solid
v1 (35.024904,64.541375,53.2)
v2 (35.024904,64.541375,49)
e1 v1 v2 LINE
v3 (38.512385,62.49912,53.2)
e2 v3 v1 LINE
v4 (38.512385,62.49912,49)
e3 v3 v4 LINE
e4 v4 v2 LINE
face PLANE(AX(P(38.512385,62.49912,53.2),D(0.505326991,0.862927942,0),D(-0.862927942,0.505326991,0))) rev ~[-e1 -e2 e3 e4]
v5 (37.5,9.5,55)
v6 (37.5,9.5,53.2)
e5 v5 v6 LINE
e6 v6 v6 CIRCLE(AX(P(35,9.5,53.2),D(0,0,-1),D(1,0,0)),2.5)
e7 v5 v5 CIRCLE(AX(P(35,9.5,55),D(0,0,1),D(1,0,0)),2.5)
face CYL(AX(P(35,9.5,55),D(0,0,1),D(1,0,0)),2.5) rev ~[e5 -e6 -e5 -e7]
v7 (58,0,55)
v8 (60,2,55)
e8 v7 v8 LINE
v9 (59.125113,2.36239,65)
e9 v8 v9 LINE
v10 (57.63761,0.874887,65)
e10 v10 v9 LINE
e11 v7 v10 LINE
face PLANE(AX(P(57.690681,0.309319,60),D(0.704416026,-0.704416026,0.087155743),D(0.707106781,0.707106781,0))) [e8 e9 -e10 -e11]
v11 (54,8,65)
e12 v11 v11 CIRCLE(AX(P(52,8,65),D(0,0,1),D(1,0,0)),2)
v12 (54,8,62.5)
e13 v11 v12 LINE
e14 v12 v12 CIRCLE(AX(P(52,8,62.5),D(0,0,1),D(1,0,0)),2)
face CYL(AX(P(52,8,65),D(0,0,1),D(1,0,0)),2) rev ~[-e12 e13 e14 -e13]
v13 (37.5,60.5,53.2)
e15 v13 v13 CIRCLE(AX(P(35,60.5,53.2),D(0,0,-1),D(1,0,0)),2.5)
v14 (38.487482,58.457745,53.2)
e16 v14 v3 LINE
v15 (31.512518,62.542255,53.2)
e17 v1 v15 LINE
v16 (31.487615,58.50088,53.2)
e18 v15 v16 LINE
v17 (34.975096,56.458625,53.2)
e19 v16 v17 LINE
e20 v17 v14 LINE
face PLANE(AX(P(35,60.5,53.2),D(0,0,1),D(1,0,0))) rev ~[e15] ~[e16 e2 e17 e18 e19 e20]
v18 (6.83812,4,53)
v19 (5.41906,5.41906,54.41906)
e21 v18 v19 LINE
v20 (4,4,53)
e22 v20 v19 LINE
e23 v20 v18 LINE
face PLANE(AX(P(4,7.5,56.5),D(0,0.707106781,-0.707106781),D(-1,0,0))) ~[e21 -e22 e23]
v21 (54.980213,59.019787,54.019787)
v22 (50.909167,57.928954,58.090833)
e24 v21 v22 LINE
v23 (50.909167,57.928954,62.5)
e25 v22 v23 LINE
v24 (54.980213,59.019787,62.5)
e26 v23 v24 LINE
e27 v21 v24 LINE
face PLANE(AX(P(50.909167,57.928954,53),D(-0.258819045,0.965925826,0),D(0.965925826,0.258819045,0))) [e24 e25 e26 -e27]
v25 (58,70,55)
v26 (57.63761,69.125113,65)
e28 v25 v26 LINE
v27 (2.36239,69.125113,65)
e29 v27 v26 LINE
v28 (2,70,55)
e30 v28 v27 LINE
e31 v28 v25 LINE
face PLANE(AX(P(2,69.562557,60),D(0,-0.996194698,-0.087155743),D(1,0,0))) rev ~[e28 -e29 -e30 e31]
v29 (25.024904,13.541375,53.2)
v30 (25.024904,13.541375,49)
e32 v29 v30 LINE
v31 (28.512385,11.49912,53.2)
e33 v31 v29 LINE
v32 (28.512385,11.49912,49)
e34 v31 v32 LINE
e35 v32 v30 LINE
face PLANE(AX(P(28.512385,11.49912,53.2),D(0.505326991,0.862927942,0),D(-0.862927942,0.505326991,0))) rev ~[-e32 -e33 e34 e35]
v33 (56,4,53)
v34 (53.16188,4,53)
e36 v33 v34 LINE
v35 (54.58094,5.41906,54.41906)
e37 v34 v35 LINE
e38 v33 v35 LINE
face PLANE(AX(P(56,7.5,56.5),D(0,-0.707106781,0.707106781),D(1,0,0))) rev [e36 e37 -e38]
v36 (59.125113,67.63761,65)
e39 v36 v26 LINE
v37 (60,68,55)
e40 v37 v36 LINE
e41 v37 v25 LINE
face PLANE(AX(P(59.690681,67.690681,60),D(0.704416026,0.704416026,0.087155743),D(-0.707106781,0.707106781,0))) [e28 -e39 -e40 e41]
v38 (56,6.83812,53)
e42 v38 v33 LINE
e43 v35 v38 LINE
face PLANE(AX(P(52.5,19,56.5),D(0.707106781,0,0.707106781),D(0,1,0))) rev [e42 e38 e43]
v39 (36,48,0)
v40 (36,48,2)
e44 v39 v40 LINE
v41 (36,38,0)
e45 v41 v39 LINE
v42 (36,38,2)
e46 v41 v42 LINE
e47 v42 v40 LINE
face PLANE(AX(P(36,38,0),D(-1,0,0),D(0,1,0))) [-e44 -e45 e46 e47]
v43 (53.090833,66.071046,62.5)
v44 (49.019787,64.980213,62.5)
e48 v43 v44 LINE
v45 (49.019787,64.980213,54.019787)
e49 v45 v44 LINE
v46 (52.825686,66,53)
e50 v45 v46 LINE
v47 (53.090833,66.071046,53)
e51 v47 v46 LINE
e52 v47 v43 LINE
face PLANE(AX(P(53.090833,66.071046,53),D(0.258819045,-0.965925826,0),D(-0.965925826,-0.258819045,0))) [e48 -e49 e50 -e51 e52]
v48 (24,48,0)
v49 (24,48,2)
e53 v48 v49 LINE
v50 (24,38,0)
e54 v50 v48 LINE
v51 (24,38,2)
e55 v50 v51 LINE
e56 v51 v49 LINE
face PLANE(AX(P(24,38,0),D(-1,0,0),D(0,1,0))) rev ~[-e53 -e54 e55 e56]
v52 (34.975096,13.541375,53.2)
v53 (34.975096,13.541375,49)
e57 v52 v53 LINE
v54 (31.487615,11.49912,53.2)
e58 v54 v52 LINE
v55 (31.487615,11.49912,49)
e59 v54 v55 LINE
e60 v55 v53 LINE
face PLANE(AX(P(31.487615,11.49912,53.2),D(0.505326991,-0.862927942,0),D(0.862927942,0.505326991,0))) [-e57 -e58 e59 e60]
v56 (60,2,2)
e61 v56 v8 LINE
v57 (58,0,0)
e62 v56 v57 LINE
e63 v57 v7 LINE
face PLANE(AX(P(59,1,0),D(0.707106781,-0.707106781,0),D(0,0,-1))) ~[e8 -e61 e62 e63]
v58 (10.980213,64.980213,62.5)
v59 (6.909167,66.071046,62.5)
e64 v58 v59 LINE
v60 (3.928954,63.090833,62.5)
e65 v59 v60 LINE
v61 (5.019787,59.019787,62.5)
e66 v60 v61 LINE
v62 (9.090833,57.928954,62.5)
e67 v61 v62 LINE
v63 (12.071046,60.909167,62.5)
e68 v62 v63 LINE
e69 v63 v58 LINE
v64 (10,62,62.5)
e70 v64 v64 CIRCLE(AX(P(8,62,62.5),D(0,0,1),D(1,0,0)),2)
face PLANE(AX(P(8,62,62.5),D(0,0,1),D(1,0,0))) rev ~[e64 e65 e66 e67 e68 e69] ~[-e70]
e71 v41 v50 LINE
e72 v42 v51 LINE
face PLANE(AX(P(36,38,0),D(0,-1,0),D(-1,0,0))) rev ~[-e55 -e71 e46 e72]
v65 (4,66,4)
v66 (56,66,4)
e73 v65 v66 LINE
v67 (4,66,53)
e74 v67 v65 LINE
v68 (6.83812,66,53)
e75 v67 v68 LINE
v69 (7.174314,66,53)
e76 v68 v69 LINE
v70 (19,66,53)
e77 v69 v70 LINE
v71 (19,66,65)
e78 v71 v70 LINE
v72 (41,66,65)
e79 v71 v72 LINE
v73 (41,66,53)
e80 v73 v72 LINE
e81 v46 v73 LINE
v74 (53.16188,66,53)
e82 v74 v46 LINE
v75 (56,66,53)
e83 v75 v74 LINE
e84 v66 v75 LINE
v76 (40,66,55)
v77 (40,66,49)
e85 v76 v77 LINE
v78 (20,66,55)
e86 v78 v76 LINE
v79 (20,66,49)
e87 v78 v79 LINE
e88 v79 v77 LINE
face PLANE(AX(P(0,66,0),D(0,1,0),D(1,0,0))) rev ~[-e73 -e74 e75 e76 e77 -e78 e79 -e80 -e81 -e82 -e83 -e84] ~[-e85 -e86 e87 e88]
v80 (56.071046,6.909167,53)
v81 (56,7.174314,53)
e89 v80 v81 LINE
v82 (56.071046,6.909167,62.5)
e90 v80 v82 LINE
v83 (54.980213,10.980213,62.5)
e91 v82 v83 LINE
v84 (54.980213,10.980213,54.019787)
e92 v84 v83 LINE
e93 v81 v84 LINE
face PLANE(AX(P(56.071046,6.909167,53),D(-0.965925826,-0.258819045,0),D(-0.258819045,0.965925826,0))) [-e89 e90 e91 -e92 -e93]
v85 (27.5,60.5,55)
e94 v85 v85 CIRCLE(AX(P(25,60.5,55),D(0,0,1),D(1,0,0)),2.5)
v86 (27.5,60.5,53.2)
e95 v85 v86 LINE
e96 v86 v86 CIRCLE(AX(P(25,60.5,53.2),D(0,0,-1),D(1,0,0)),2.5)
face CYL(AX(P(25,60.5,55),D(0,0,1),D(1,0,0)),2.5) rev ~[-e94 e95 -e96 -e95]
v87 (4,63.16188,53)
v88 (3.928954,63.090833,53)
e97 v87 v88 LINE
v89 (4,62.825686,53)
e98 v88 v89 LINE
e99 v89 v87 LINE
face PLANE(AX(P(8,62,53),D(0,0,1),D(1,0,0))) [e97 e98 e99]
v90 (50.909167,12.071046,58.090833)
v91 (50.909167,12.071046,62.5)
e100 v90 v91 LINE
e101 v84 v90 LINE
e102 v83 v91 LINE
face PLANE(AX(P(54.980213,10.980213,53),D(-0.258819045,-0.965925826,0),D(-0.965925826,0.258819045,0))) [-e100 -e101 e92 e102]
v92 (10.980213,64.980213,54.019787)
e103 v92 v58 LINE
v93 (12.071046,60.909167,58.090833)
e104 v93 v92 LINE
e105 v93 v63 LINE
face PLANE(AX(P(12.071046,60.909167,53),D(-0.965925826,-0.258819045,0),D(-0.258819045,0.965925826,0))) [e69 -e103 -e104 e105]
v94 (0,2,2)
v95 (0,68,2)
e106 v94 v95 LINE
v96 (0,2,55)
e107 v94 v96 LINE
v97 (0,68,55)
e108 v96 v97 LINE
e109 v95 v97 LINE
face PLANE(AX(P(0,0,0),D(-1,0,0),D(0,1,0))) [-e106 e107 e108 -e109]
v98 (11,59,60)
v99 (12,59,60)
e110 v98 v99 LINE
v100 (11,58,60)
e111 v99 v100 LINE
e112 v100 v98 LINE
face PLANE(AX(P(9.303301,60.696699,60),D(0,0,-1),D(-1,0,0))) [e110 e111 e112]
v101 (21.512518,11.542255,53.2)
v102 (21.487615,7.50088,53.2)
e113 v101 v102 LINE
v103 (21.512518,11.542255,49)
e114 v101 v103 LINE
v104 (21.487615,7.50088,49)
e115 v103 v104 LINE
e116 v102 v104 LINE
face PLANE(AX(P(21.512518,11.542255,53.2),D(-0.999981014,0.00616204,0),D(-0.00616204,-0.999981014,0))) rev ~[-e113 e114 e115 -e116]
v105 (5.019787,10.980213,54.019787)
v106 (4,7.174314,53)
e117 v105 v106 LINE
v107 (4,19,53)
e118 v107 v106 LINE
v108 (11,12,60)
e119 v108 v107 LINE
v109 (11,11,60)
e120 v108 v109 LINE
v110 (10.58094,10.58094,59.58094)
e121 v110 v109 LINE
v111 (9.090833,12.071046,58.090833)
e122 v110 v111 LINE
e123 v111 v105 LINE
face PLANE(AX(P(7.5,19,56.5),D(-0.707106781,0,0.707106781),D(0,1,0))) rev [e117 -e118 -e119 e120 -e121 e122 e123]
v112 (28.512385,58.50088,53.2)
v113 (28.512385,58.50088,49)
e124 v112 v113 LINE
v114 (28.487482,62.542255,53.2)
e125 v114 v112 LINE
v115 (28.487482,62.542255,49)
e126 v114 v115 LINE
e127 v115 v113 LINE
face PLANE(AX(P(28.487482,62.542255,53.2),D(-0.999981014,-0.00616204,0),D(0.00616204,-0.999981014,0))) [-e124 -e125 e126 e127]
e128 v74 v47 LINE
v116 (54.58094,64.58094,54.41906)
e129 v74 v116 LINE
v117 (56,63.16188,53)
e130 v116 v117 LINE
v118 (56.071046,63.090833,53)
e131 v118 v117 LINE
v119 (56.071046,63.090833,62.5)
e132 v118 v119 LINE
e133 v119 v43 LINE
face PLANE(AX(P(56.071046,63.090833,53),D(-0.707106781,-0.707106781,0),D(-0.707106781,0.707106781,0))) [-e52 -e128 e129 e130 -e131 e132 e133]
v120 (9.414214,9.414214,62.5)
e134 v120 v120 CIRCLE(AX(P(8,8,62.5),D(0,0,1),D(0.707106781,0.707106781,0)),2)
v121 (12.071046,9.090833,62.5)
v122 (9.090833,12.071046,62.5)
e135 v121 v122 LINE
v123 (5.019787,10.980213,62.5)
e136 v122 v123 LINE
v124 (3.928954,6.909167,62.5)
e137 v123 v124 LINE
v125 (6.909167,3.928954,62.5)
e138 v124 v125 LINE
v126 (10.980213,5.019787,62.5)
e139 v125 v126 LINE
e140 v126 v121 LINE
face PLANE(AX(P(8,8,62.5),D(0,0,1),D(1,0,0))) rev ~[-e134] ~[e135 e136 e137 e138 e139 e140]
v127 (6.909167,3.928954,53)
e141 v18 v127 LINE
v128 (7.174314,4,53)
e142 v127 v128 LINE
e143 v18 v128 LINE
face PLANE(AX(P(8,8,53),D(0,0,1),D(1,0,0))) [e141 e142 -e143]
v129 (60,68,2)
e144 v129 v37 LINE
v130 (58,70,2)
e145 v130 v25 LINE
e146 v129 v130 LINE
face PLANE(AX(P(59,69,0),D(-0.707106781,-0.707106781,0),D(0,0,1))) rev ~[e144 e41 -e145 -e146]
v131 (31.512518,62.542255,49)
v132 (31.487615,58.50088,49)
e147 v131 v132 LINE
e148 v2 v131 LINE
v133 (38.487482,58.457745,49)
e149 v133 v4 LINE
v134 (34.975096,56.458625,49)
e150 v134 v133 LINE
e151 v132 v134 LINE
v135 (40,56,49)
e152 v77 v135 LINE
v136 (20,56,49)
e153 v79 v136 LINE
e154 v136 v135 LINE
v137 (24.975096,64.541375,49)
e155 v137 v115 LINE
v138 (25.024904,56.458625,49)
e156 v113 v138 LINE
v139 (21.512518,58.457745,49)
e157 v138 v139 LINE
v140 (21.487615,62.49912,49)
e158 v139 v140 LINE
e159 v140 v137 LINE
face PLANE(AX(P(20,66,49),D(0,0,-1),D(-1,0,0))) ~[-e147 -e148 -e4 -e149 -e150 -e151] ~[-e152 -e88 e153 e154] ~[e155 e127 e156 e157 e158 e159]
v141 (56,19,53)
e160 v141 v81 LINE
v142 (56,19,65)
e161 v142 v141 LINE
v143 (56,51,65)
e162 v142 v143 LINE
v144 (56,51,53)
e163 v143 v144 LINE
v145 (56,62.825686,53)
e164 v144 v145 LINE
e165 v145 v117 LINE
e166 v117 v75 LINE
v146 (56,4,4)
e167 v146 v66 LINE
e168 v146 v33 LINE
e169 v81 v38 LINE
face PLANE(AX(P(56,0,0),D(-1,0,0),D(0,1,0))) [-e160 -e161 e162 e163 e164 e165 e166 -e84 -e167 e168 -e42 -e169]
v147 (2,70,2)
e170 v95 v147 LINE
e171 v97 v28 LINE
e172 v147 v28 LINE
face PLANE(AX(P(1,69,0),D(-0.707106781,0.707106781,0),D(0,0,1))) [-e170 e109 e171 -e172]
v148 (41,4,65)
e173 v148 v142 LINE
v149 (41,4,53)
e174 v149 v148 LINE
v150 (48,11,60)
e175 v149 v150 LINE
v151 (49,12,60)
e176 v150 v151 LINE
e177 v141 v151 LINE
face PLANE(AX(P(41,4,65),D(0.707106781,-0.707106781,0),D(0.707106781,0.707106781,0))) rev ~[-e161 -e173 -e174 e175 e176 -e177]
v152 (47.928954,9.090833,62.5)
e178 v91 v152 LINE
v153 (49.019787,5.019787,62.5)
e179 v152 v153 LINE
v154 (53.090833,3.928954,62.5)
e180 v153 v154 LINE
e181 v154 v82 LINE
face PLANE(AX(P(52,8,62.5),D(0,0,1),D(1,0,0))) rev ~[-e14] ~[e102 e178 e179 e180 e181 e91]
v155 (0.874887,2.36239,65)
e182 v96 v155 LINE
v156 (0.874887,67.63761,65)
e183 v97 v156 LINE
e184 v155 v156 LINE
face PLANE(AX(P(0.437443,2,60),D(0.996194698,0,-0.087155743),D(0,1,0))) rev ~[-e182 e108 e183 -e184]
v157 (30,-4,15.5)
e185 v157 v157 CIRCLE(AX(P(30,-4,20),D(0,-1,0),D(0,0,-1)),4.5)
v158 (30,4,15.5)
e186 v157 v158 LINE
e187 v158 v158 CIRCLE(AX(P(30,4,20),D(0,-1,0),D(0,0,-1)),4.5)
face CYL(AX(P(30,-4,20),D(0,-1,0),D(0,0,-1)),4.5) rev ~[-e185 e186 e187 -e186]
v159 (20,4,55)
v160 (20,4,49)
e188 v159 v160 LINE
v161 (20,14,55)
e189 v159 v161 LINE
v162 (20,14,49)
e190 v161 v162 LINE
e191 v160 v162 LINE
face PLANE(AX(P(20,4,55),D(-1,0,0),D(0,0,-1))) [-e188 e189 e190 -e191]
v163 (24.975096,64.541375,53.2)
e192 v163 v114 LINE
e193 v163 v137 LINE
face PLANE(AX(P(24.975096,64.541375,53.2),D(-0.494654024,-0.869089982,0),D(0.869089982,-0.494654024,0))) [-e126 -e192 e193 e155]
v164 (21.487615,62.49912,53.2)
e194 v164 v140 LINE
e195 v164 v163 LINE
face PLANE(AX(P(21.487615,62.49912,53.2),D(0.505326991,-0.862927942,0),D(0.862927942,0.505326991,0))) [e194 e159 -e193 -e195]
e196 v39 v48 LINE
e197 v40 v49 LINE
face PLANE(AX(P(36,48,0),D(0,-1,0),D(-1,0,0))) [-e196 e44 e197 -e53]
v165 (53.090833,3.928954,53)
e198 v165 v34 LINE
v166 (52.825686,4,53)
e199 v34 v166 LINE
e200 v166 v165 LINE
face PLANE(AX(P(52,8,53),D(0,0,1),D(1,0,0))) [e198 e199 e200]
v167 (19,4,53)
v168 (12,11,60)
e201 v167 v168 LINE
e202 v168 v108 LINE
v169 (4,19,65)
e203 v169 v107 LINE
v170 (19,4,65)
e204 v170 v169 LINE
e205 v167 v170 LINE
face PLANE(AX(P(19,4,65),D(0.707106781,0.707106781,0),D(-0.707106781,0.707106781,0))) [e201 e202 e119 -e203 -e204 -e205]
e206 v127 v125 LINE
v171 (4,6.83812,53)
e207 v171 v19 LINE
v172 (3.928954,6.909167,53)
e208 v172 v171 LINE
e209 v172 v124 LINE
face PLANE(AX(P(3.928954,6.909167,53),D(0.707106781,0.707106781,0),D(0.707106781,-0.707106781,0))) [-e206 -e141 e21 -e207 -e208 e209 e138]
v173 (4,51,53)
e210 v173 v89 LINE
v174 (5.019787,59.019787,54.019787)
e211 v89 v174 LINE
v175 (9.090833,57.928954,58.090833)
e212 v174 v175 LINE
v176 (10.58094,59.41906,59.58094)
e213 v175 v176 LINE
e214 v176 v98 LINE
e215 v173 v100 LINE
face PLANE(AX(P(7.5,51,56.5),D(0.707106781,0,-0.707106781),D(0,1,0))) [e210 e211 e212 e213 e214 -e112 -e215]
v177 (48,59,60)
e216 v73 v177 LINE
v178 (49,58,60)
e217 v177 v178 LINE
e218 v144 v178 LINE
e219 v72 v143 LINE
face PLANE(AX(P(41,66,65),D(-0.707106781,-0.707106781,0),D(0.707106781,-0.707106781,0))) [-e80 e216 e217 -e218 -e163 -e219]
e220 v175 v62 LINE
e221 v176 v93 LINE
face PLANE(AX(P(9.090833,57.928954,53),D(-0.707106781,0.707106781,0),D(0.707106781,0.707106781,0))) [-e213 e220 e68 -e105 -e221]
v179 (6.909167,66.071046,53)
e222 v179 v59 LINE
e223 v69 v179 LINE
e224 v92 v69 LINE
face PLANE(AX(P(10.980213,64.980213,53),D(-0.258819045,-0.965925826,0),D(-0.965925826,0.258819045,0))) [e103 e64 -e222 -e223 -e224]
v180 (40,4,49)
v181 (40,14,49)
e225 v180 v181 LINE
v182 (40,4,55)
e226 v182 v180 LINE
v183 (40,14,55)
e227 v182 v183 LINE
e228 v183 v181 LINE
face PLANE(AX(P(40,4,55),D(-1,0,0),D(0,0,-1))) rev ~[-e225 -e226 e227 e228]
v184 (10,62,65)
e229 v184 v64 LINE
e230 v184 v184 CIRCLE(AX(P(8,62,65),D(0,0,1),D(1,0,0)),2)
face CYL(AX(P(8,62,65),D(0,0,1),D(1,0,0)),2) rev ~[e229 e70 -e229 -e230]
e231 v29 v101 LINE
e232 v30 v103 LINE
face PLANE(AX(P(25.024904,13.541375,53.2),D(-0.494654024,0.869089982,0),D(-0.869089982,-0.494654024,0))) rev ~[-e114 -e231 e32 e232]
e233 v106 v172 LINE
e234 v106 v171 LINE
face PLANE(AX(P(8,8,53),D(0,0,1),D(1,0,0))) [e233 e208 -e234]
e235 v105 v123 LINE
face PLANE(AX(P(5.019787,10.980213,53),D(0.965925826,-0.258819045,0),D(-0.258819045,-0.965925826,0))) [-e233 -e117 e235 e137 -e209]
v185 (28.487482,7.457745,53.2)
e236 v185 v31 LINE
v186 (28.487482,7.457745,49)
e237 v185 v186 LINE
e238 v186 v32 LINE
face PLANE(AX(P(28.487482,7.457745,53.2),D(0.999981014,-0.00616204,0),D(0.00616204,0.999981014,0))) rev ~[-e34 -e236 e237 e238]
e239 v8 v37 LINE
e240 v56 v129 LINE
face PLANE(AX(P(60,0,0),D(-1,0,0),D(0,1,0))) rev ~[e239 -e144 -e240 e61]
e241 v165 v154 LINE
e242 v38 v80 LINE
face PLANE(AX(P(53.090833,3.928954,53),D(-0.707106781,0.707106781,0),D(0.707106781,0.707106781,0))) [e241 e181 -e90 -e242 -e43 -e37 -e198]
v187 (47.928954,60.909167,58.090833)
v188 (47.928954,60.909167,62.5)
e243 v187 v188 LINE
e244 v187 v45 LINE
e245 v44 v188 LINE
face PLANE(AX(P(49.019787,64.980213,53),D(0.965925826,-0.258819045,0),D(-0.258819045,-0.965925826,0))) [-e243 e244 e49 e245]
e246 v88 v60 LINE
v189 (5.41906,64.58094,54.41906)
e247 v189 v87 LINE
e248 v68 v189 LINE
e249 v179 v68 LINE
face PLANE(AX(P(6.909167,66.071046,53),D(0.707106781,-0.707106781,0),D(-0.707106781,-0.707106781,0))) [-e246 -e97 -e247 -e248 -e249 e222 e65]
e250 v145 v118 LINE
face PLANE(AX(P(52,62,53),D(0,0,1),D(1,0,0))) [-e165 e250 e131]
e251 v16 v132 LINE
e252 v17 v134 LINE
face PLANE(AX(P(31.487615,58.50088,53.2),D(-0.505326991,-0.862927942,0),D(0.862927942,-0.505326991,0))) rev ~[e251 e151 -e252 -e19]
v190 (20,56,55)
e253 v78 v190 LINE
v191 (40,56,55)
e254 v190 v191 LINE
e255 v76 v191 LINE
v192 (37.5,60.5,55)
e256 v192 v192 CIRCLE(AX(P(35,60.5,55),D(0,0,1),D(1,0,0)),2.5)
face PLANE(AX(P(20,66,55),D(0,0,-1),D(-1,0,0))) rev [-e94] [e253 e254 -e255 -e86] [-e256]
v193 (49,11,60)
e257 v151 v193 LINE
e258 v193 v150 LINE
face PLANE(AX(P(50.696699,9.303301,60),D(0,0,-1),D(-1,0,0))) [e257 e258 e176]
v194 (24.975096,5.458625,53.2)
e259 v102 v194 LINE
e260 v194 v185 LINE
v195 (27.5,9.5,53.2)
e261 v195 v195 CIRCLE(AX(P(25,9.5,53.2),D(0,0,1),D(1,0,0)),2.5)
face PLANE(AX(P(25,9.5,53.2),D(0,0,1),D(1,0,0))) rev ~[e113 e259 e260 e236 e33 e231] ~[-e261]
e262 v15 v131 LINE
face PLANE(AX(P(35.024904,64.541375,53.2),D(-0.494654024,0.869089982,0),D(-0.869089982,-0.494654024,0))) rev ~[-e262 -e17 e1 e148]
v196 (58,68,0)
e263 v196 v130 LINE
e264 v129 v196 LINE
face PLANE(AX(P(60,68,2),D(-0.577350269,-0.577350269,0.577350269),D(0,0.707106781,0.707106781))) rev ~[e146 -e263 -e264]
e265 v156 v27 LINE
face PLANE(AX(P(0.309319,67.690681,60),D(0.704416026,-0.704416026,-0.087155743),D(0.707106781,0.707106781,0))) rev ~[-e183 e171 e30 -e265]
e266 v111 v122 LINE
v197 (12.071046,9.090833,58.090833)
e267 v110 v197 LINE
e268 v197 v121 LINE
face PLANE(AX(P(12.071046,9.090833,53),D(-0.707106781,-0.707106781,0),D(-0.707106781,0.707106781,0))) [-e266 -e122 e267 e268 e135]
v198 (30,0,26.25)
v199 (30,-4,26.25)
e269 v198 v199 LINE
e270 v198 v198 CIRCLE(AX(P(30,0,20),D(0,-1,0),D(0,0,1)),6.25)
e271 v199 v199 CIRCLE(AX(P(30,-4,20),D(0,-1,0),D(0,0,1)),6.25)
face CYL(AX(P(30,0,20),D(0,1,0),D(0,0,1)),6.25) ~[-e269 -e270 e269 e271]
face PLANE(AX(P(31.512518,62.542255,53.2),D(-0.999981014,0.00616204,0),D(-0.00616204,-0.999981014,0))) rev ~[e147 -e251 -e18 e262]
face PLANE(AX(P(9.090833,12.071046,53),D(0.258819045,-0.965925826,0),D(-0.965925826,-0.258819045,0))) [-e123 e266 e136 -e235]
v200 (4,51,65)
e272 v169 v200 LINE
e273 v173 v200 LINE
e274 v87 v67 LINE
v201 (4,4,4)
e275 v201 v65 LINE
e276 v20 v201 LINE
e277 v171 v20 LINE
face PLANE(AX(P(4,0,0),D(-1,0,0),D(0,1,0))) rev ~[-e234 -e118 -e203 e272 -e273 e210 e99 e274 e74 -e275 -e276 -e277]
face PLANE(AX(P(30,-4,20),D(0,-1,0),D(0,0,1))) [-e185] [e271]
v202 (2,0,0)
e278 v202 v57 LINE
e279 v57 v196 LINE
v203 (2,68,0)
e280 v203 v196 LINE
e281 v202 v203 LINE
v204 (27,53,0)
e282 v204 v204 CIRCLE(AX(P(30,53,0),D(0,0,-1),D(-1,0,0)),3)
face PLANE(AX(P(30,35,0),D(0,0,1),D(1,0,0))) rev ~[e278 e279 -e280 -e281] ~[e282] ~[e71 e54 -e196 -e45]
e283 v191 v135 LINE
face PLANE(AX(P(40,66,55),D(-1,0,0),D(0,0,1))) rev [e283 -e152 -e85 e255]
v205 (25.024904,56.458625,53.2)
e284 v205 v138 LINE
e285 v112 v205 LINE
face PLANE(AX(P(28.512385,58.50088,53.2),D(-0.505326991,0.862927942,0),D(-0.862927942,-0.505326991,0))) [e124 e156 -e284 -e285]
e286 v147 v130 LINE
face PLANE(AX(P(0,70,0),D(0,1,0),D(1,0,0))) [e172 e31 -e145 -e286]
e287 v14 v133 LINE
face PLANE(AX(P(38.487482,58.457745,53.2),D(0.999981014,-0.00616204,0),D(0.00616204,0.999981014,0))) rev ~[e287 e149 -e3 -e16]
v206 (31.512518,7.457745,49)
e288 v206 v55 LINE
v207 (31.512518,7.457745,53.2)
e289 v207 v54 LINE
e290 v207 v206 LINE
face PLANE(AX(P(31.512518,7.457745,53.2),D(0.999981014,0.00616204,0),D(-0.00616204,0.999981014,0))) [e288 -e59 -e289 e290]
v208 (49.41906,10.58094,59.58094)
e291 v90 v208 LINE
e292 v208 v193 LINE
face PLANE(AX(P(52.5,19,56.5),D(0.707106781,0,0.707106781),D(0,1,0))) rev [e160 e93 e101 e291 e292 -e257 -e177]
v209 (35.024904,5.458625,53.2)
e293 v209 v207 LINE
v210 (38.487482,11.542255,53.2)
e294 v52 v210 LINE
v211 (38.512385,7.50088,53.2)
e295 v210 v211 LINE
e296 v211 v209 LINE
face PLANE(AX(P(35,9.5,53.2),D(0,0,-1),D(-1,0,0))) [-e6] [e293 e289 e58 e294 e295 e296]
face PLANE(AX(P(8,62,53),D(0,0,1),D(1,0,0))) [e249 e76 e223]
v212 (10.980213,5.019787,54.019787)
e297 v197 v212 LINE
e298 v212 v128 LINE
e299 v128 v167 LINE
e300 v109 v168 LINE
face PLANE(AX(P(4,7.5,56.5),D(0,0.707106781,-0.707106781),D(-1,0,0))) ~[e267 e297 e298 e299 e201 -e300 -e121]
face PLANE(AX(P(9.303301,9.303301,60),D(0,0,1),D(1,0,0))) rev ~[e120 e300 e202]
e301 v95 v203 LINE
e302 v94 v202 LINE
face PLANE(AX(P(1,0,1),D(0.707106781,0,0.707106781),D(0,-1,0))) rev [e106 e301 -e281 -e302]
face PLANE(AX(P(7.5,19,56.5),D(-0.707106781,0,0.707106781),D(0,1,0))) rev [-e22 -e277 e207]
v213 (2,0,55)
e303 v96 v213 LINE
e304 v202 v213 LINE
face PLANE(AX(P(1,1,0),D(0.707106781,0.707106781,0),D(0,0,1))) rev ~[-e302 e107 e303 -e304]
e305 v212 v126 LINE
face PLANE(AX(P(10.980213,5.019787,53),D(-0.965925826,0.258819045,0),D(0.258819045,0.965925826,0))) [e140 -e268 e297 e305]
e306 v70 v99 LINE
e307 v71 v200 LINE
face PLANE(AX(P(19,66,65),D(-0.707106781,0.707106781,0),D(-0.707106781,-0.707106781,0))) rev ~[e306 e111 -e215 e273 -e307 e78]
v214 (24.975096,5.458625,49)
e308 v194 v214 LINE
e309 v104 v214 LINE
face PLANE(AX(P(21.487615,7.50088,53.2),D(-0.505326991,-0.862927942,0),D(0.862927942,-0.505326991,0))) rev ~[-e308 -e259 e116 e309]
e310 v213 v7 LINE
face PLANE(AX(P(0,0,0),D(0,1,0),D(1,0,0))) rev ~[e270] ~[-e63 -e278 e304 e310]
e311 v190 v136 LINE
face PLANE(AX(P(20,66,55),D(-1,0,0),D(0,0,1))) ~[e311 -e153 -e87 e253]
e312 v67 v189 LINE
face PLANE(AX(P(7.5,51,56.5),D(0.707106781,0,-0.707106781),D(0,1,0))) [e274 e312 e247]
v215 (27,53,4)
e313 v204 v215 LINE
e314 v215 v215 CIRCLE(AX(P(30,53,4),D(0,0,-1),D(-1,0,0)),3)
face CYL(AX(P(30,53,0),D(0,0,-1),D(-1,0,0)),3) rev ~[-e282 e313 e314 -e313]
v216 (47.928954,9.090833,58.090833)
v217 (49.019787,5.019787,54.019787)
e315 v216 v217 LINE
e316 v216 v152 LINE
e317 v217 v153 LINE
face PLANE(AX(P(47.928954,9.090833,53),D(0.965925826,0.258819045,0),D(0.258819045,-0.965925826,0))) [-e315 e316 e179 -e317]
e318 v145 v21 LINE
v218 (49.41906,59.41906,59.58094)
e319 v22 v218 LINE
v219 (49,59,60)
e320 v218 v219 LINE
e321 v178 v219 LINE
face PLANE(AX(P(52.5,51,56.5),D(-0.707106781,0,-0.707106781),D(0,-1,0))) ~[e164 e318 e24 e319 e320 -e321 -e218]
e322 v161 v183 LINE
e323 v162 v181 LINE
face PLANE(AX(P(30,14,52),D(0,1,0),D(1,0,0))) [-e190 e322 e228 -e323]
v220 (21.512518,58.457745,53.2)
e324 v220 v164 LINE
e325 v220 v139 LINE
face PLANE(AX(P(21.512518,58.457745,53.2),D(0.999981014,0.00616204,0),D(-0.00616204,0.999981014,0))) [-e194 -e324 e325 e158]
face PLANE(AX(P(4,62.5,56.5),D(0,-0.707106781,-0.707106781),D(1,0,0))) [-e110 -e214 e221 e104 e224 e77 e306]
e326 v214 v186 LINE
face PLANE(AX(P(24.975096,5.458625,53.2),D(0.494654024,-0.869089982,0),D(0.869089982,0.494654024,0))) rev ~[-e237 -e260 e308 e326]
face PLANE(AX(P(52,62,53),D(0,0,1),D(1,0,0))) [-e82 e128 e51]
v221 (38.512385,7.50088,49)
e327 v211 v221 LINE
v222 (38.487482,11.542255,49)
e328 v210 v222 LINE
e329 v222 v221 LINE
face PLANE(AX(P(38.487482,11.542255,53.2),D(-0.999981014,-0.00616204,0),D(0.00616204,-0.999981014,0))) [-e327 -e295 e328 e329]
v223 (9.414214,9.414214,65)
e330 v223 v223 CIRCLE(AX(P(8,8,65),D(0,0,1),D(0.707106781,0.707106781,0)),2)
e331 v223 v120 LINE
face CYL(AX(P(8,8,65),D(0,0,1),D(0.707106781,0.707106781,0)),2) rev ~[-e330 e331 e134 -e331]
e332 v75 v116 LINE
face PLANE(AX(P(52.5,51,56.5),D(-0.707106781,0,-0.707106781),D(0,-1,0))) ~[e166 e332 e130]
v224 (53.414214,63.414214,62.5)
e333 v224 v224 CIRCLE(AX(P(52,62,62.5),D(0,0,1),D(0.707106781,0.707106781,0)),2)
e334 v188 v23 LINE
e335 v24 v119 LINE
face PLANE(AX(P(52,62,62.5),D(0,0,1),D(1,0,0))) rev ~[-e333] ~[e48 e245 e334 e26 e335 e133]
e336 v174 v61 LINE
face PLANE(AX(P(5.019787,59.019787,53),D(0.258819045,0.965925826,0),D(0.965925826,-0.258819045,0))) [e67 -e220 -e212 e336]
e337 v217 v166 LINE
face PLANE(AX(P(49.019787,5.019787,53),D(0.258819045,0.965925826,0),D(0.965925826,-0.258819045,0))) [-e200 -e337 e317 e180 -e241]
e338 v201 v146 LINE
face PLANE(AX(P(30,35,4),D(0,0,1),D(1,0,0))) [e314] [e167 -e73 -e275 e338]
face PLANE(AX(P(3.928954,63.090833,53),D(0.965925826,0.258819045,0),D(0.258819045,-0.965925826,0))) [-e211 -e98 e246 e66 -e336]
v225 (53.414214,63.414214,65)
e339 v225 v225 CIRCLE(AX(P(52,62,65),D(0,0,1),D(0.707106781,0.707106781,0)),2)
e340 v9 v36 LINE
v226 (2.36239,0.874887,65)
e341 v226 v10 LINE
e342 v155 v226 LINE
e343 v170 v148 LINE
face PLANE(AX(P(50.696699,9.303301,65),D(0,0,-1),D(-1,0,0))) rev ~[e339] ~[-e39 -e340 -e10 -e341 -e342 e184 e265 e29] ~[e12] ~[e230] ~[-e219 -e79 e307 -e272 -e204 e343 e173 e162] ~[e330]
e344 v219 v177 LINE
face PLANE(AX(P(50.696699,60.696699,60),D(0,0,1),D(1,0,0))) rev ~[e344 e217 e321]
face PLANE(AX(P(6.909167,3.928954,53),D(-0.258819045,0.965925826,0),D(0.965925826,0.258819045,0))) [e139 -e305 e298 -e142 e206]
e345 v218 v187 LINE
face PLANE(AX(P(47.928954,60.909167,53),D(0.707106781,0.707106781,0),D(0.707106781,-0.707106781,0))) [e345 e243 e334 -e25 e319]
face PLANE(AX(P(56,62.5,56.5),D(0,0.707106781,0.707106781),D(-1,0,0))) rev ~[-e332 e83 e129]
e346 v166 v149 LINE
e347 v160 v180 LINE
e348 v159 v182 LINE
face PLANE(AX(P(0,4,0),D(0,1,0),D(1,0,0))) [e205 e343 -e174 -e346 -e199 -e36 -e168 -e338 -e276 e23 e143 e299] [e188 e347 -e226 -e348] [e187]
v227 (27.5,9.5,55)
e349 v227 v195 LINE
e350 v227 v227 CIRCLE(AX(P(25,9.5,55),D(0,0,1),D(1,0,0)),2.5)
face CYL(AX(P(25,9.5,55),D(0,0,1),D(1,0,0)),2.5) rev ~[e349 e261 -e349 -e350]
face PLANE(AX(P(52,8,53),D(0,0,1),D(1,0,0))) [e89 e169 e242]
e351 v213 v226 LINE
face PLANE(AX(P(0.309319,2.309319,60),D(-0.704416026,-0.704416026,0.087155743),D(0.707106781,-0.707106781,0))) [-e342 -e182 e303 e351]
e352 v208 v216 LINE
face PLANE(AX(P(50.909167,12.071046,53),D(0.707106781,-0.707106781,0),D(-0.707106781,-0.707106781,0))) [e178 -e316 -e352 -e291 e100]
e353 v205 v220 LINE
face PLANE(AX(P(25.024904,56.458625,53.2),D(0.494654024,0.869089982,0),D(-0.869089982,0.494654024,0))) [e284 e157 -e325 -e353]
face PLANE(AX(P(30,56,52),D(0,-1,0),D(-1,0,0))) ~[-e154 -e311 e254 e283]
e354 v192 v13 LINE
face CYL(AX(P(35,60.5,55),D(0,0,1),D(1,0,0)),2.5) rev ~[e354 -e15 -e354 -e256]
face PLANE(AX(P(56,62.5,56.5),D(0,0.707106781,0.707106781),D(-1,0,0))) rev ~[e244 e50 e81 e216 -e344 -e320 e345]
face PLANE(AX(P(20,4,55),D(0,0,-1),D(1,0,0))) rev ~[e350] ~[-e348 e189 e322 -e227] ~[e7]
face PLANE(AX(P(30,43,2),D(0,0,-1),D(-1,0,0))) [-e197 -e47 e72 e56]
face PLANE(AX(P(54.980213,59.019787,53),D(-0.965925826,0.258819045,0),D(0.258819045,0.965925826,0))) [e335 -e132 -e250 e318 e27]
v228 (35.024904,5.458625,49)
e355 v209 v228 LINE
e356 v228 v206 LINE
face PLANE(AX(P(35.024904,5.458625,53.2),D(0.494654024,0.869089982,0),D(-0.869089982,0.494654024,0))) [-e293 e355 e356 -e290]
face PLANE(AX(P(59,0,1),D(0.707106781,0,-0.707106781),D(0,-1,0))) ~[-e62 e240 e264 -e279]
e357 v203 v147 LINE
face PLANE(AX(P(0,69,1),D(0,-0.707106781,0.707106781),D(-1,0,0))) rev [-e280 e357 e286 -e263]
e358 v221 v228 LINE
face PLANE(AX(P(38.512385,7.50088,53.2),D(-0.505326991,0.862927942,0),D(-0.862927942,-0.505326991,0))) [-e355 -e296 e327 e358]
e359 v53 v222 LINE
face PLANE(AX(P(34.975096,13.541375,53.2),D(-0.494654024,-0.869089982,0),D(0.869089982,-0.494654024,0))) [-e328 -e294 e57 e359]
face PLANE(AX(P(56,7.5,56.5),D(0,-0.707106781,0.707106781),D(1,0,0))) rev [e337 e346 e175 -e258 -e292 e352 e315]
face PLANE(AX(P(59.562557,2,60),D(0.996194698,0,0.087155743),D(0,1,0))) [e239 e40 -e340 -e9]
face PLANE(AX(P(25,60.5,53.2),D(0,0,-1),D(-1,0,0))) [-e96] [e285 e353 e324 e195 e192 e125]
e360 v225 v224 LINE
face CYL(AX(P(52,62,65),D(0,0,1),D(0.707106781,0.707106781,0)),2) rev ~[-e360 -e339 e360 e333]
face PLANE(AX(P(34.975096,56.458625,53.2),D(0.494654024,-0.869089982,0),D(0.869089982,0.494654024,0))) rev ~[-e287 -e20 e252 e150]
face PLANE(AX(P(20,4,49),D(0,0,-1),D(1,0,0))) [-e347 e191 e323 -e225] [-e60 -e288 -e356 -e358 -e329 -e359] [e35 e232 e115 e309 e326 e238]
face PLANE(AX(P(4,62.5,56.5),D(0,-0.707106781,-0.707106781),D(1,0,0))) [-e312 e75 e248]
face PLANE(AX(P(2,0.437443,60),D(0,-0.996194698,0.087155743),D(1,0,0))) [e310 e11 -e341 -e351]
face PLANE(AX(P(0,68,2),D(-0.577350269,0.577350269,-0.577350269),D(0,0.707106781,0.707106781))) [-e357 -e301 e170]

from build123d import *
from OCP.BRepFilletAPI import BRepFilletAPI_MakeChamfer

# Parameters (mm, degrees)
SKIZZE1_W                          = 60
SKIZZE1_H                          = 70
GRUNDK_RPER_DEPTH                  = 65
FASE2_SIZE                         = 2
WANDUNG1_T                         = -4
SKIZZE2_W                          = 20
SKIZZE2_H                          = 6
AUFSATZ_LINEAR_AUSTRAGEN1_DEPTH    = 10
BOHRUNGEN_SERVO_REACH              = 109.355
SKIZZE3_R                          = 2.5
SECHSKANT_START                    = -4.2
SKIZZE5_R                          = 2.5
SKIZZE5_R_2                        = 2
SECHSKANT_DEPTH                    = 4.2
AUSPARUNGEN_DEPTH                  = 5
FASE3_SIZE                         = 7
BOHRUNGENHALTERUNG_REACH           = 114.805
SKIZZE8_R                          = 2
SECHSKANT_START_2                  = -9.5
SECHSKANT_DECKEL_DEPTH             = 9.5
BOHRUNG_VERSCHRAUBUNG_DECKEL_REACH = 114.805
SKIZZE11_R                         = 3
SKIZZE14_R                         = 0.883929471
SKIZZE14_W                         = 12
SKIZZE14_H                         = 10
VERTIEFUNG_DECKEL_DEPTH            = 2
SKIZZE16_R                         = 6.25
AUFSATZ_KABELBOHRUNGEN_DEPTH       = 4
BOHRUNGSDURCHMESSER_KABEL_REACH    = 117.33
SKIZZE17_R                         = 4.5
FASE4_SIZE                         = 10
FASE4_SIZE2                        = 0.874886635


with BuildPart() as part:
    # Skizze1 → Grundkörper (new body)
    with BuildSketch(Plane.XY):
        with Locations((30, 35)):
            Rectangle(SKIZZE1_W, SKIZZE1_H)
    extrude(amount=GRUNDK_RPER_DEPTH)

    # Fase2
    fase2_edges = [part.edges().sort_by_distance(p)[0] for p in [
        (30, 70, 0),
        (60, 35, 0),
        (0, 35, 0),
        (0, 70, 32.5),
        (60, 70, 32.5),
        (60, 0, 32.5),
        (0, 0, 32.5),
    ]]
    chamfer(fase2_edges, length=FASE2_SIZE)

    # Wandung1
    wandung1_openings = [part.faces().sort_by_distance(p)[0] for p in [
        (30, 35, 65),
    ]]
    offset(amount=WANDUNG1_T, openings=wandung1_openings)

    # Skizze2 → Aufsatz-Linear austragen1 (add)
    with BuildSketch(Plane(origin=(0, 4, 0), x_dir=(1, 0, 0), z_dir=(0, 1, 0))):
        with Locations((30, -52)):
            Rectangle(SKIZZE2_W, SKIZZE2_H)
    aufsatz_linear_austragen1 = extrude(amount=AUFSATZ_LINEAR_AUSTRAGEN1_DEPTH)

    # Spiegeln1: Aufsatz-Linear austragen1 across plane
    add(aufsatz_linear_austragen1.mirror(Plane(origin=(0, 35, 0), x_dir=(0, 0, 1), z_dir=(0, -1, 0))))

    # Skizze3 → Bohrungen Servo (cut, up to next)
    with BuildSketch(Plane.XY.offset(55), mode=Mode.PRIVATE) as bohrungen_servo_sk1:
        with Locations((25, 9.5)):
            Circle(SKIZZE3_R)
    bohrungen_servo_tool1 = extrude(bohrungen_servo_sk1.sketch, amount=-BOHRUNGEN_SERVO_REACH, mode=Mode.PRIVATE) & part.part
    # Skizze3 → Bohrungen Servo (cut, up to next)
    with BuildSketch(Plane.XY.offset(55), mode=Mode.PRIVATE) as bohrungen_servo_sk2:
        with Locations((35, 9.5)):
            Circle(SKIZZE3_R)
    bohrungen_servo_tool2 = extrude(bohrungen_servo_sk2.sketch, amount=-BOHRUNGEN_SERVO_REACH, mode=Mode.PRIVATE) & part.part
    # Skizze3 → Bohrungen Servo (cut, up to next)
    with BuildSketch(Plane.XY.offset(55), mode=Mode.PRIVATE) as bohrungen_servo_sk3:
        with Locations((35, 60.5)):
            Circle(SKIZZE3_R)
    bohrungen_servo_tool3 = extrude(bohrungen_servo_sk3.sketch, amount=-BOHRUNGEN_SERVO_REACH, mode=Mode.PRIVATE) & part.part
    # Skizze3 → Bohrungen Servo (cut, up to next)
    with BuildSketch(Plane.XY.offset(55), mode=Mode.PRIVATE) as bohrungen_servo_sk4:
        with Locations((25, 60.5)):
            Circle(SKIZZE3_R)
    bohrungen_servo_tool4 = extrude(bohrungen_servo_sk4.sketch, amount=-BOHRUNGEN_SERVO_REACH, mode=Mode.PRIVATE) & part.part
    add(bohrungen_servo_tool1.solids().sort_by_distance((25, 9.5, 55))[0], mode=Mode.SUBTRACT)
    add(bohrungen_servo_tool2.solids().sort_by_distance((35, 9.5, 55))[0], mode=Mode.SUBTRACT)
    add(bohrungen_servo_tool3.solids().sort_by_distance((35, 60.5, 55))[0], mode=Mode.SUBTRACT)
    add(bohrungen_servo_tool4.solids().sort_by_distance((25, 60.5, 55))[0], mode=Mode.SUBTRACT)

    # Skizze5 → Sechskant (cut)
    # profile 1 of 4: a face of its own
    with BuildSketch(Plane(origin=(0, 0, 49), x_dir=(-1, 0, 0), z_dir=(0, 0, -1)).offset(SECHSKANT_START)):
        Polygon((-34.97509641, 13.541375155), (-38.487481756, 11.542254719), (-38.512385346, 7.500879564), (-35.02490359, 5.458624845), (-31.512518244, 7.457745281), (-31.487614654, 11.499120436), align=None)
        with Locations(Location((-35, 9.5, 0), (0, 0, 180))):
            Circle(SKIZZE5_R, mode=Mode.SUBTRACT)
    # profile 2 of 4: a face of its own
    with BuildSketch(Plane(origin=(0, 0, 49), x_dir=(-1, 0, 0), z_dir=(0, 0, -1)).offset(SECHSKANT_START)):
        Polygon((-31.487614654, 58.500879564), (-34.97509641, 56.458624845), (-38.487481756, 58.457745281), (-38.512385346, 62.499120436), (-35.02490359, 64.541375155), (-31.512518244, 62.542254719), align=None)
        with Locations(Location((-35, 60.5, 0), (0, 0, 180))):
            Circle(SKIZZE5_R, mode=Mode.SUBTRACT)
    # profile 3 of 4: a face of its own
    with BuildSketch(Plane(origin=(0, 0, 49), x_dir=(-1, 0, 0), z_dir=(0, 0, -1)).offset(SECHSKANT_START)):
        Polygon((-28.487481756, 62.542254719), (-28.512385346, 58.500879564), (-25.02490359, 56.458624845), (-21.512518244, 58.457745281), (-21.487614654, 62.499120436), (-24.97509641, 64.541375155), align=None)
        with Locations(Location((-25, 60.5, 0), (0, 0, 180))):
            Circle(SKIZZE5_R, mode=Mode.SUBTRACT)
    # profile 4 of 4: a face of its own
    with BuildSketch(Plane(origin=(0, 0, 49), x_dir=(-1, 0, 0), z_dir=(0, 0, -1)).offset(SECHSKANT_START)):
        Polygon((-28.512385346, 11.499120436), (-25.02490359, 13.541375155), (-21.512518244, 11.542254719), (-21.487614654, 7.500879564), (-24.97509641, 5.458624845), (-28.487481756, 7.457745281), align=None)
        with Locations((-25, 9.5)):
            Circle(SKIZZE5_R_2, mode=Mode.SUBTRACT)
    extrude(amount=SECHSKANT_DEPTH, mode=Mode.SUBTRACT)

    # Skizze7 → Ausparungen (add)
    with BuildSketch(Plane.XY.offset(65)):
        Polygon((56, 4), (41, 4), (56, 19), align=None)
        Polygon((19, 4), (4, 19), (4, 4), align=None)
        Polygon((4, 66), (19, 66), (4, 51), align=None)
        Polygon((41, 66), (56, 51), (56, 66), align=None)
    extrude(amount=-AUSPARUNGEN_DEPTH)

    # Fase3
    fase3_edges = [part.edges().sort_by_distance(p)[0] for p in [
        (56, 11.5, 60),
        (48.5, 4, 60),
        (11.5, 4, 60),
        (4, 11.5, 60),
        (4, 58.5, 60),
        (11.5, 66, 60),
        (48.5, 66, 60),
        (56, 58.5, 60),
    ]]
    chamfer(fase3_edges, length=FASE3_SIZE)

    # Skizze8 → BohrungenHalterung (cut, up to next)
    with BuildSketch(Plane.XY.offset(65), mode=Mode.PRIVATE) as bohrungenhalterung_sk1:
        with Locations((52, 8)):
            Circle(SKIZZE8_R)
    bohrungenhalterung_tool1 = extrude(bohrungenhalterung_sk1.sketch, amount=-BOHRUNGENHALTERUNG_REACH, mode=Mode.PRIVATE) & part.part
    # Skizze8 → BohrungenHalterung (cut, up to next)
    with BuildSketch(Plane.XY.offset(65), mode=Mode.PRIVATE) as bohrungenhalterung_sk2:
        with Locations(Location((8, 8, 0), (0, 0, 45))):
            Circle(SKIZZE8_R)
    bohrungenhalterung_tool2 = extrude(bohrungenhalterung_sk2.sketch, amount=-BOHRUNGENHALTERUNG_REACH, mode=Mode.PRIVATE) & part.part
    # Skizze8 → BohrungenHalterung (cut, up to next)
    with BuildSketch(Plane.XY.offset(65), mode=Mode.PRIVATE) as bohrungenhalterung_sk3:
        with Locations((8, 62)):
            Circle(SKIZZE8_R)
    bohrungenhalterung_tool3 = extrude(bohrungenhalterung_sk3.sketch, amount=-BOHRUNGENHALTERUNG_REACH, mode=Mode.PRIVATE) & part.part
    # Skizze8 → BohrungenHalterung (cut, up to next)
    with BuildSketch(Plane.XY.offset(65), mode=Mode.PRIVATE) as bohrungenhalterung_sk4:
        with Locations(Location((52, 62, 0), (0, 0, 45))):
            Circle(SKIZZE8_R)
    bohrungenhalterung_tool4 = extrude(bohrungenhalterung_sk4.sketch, amount=-BOHRUNGENHALTERUNG_REACH, mode=Mode.PRIVATE) & part.part
    add(bohrungenhalterung_tool1.solids().sort_by_distance((52, 8, 65))[0], mode=Mode.SUBTRACT)
    add(bohrungenhalterung_tool2.solids().sort_by_distance((8, 8, 65))[0], mode=Mode.SUBTRACT)
    add(bohrungenhalterung_tool3.solids().sort_by_distance((8, 62, 65))[0], mode=Mode.SUBTRACT)
    add(bohrungenhalterung_tool4.solids().sort_by_distance((52, 62, 65))[0], mode=Mode.SUBTRACT)

    # Skizze13 → Sechskant Deckel (cut)
    with BuildSketch(Plane.XY.offset(62.5).offset(SECHSKANT_START_2)):
        Polygon((50.909166509, 57.928953988), (54.98021252, 59.01978748), (56.071046012, 63.090833491), (53.090833491, 66.071046012), (49.01978748, 64.98021252), (47.928953988, 60.909166509), align=None)
        Polygon((49.01978748, 5.01978748), (53.090833491, 3.928953988), (56.071046012, 6.909166509), (54.98021252, 10.98021252), (50.909166509, 12.071046012), (47.928953988, 9.090833491), align=None)
        Polygon((3.928953988, 6.909166509), (6.909166509, 3.928953988), (10.98021252, 5.01978748), (12.071046012, 9.090833491), (9.090833491, 12.071046012), (5.01978748, 10.98021252), align=None)
        Polygon((5.01978748, 59.01978748), (9.090833491, 57.928953988), (12.071046012, 60.909166509), (10.98021252, 64.98021252), (6.909166509, 66.071046012), (3.928953988, 63.090833491), align=None)
    extrude(amount=SECHSKANT_DECKEL_DEPTH, mode=Mode.SUBTRACT)

    # Skizze11 → Bohrung Verschraubung Deckel (cut, up to next)
    with BuildSketch(Plane(origin=(0, 0, 0), x_dir=(-1, 0, 0), z_dir=(0, 0, -1)), mode=Mode.PRIVATE) as bohrung_verschraubung_deckel_sk1:
        with Locations((-30, 53)):
            Circle(SKIZZE11_R)
    bohrung_verschraubung_deckel_tool1 = extrude(bohrung_verschraubung_deckel_sk1.sketch, amount=-BOHRUNG_VERSCHRAUBUNG_DECKEL_REACH, mode=Mode.PRIVATE) & part.part
    add(bohrung_verschraubung_deckel_tool1.solids().sort_by_distance((30, 53, 0))[0], mode=Mode.SUBTRACT)

    # Skizze14 → Vertiefung Deckel (cut)
    with BuildSketch(Plane(origin=(0, 0, 0), x_dir=(-1, 0, 0), z_dir=(0, 0, -1))):
        with Locations((-30, 53)):
            Circle(SKIZZE14_R)
        with Locations((-30, 43)):
            Rectangle(SKIZZE14_W, SKIZZE14_H)
    extrude(amount=-VERTIEFUNG_DECKEL_DEPTH, mode=Mode.SUBTRACT)

    # Skizze16 → Aufsatz Kabelbohrungen (add)
    with BuildSketch(Plane.XZ):
        with Locations(Location((30, 20, 0), (0, 0, 90))):
            Circle(SKIZZE16_R)
    extrude(amount=AUFSATZ_KABELBOHRUNGEN_DEPTH)

    # Skizze17 → Bohrungsdurchmesser Kabel (cut, up to next)
    with BuildSketch(Plane.XZ.offset(4), mode=Mode.PRIVATE) as bohrungsdurchmesser_kabel_sk1:
        with Locations(Location((30, 20, 0), (0, 0, 270))):
            Circle(SKIZZE17_R)
    bohrungsdurchmesser_kabel_tool1 = extrude(bohrungsdurchmesser_kabel_sk1.sketch, amount=-BOHRUNGSDURCHMESSER_KABEL_REACH, mode=Mode.PRIVATE) & part.part
    add(bohrungsdurchmesser_kabel_tool1.solids().sort_by_distance((30, -4, 20))[0], mode=Mode.SUBTRACT)

    # Fase4: one chamfer whose edges measure the first distance from different faces: ONE call of the kernel's chamfer builder (chamfer() names one face for all edges)
    fase4_edges_1 = [part.edges().sort_by_distance(p)[0] for p in [
        (30, 0, 65),
    ]]
    fase4_side_1 = [part.faces().sort_by_distance(p)[0] for p in [
        (30, 0, 32.936126813),
    ]]
    fase4_edges_2 = [part.edges().sort_by_distance(p)[0] for p in [
        (0, 35, 65),
    ]]
    fase4_side_2 = [part.faces().sort_by_distance(p)[0] for p in [
        (0, 35, 33.5),
    ]]
    fase4_edges_3 = [part.edges().sort_by_distance(p)[0] for p in [
        (60, 35, 65),
    ]]
    fase4_side_3 = [part.faces().sort_by_distance(p)[0] for p in [
        (60, 35, 33.5),
    ]]
    fase4_edges_4 = [part.edges().sort_by_distance(p)[0] for p in [
        (30, 70, 65),
    ]]
    fase4_side_4 = [part.faces().sort_by_distance(p)[0] for p in [
        (30, 70, 33.5),
    ]]
    fase4_edges_5 = [part.edges().sort_by_distance(p)[0] for p in [
        (1, 69, 65),
    ]]
    fase4_side_5 = [part.faces().sort_by_distance(p)[0] for p in [
        (1, 69, 33.5),
    ]]
    fase4_edges_6 = [part.edges().sort_by_distance(p)[0] for p in [
        (59, 69, 65),
    ]]
    fase4_side_6 = [part.faces().sort_by_distance(p)[0] for p in [
        (59, 69, 33.5),
    ]]
    fase4_edges_7 = [part.edges().sort_by_distance(p)[0] for p in [
        (59, 1, 65),
    ]]
    fase4_side_7 = [part.faces().sort_by_distance(p)[0] for p in [
        (58.994791667, 0.994791667, 32.997395833),
    ]]
    fase4_edges_8 = [part.edges().sort_by_distance(p)[0] for p in [
        (1, 1, 65),
    ]]
    fase4_side_8 = [part.faces().sort_by_distance(p)[0] for p in [
        (1.005208333, 0.994791667, 32.997395833),
    ]]
    fase4 = BRepFilletAPI_MakeChamfer(part.part.solid().wrapped)
    for e in fase4_edges_1:
        fase4.Add(FASE4_SIZE, FASE4_SIZE2, e.wrapped, fase4_side_1[0].wrapped)  # the first distance lies on this face
    for e in fase4_edges_2:
        fase4.Add(FASE4_SIZE, FASE4_SIZE2, e.wrapped, fase4_side_2[0].wrapped)  # the first distance lies on this face
    for e in fase4_edges_3:
        fase4.Add(FASE4_SIZE, FASE4_SIZE2, e.wrapped, fase4_side_3[0].wrapped)  # the first distance lies on this face
    for e in fase4_edges_4:
        fase4.Add(FASE4_SIZE, FASE4_SIZE2, e.wrapped, fase4_side_4[0].wrapped)  # the first distance lies on this face
    for e in fase4_edges_5:
        fase4.Add(FASE4_SIZE, FASE4_SIZE2, e.wrapped, fase4_side_5[0].wrapped)  # the first distance lies on this face
    for e in fase4_edges_6:
        fase4.Add(FASE4_SIZE, FASE4_SIZE2, e.wrapped, fase4_side_6[0].wrapped)  # the first distance lies on this face
    for e in fase4_edges_7:
        fase4.Add(FASE4_SIZE, FASE4_SIZE2, e.wrapped, fase4_side_7[0].wrapped)  # the first distance lies on this face
    for e in fase4_edges_8:
        fase4.Add(FASE4_SIZE, FASE4_SIZE2, e.wrapped, fase4_side_8[0].wrapped)  # the first distance lies on this face
    add(Compound.cast(fase4.Shape()), mode=Mode.REPLACE)


solid = part.part
